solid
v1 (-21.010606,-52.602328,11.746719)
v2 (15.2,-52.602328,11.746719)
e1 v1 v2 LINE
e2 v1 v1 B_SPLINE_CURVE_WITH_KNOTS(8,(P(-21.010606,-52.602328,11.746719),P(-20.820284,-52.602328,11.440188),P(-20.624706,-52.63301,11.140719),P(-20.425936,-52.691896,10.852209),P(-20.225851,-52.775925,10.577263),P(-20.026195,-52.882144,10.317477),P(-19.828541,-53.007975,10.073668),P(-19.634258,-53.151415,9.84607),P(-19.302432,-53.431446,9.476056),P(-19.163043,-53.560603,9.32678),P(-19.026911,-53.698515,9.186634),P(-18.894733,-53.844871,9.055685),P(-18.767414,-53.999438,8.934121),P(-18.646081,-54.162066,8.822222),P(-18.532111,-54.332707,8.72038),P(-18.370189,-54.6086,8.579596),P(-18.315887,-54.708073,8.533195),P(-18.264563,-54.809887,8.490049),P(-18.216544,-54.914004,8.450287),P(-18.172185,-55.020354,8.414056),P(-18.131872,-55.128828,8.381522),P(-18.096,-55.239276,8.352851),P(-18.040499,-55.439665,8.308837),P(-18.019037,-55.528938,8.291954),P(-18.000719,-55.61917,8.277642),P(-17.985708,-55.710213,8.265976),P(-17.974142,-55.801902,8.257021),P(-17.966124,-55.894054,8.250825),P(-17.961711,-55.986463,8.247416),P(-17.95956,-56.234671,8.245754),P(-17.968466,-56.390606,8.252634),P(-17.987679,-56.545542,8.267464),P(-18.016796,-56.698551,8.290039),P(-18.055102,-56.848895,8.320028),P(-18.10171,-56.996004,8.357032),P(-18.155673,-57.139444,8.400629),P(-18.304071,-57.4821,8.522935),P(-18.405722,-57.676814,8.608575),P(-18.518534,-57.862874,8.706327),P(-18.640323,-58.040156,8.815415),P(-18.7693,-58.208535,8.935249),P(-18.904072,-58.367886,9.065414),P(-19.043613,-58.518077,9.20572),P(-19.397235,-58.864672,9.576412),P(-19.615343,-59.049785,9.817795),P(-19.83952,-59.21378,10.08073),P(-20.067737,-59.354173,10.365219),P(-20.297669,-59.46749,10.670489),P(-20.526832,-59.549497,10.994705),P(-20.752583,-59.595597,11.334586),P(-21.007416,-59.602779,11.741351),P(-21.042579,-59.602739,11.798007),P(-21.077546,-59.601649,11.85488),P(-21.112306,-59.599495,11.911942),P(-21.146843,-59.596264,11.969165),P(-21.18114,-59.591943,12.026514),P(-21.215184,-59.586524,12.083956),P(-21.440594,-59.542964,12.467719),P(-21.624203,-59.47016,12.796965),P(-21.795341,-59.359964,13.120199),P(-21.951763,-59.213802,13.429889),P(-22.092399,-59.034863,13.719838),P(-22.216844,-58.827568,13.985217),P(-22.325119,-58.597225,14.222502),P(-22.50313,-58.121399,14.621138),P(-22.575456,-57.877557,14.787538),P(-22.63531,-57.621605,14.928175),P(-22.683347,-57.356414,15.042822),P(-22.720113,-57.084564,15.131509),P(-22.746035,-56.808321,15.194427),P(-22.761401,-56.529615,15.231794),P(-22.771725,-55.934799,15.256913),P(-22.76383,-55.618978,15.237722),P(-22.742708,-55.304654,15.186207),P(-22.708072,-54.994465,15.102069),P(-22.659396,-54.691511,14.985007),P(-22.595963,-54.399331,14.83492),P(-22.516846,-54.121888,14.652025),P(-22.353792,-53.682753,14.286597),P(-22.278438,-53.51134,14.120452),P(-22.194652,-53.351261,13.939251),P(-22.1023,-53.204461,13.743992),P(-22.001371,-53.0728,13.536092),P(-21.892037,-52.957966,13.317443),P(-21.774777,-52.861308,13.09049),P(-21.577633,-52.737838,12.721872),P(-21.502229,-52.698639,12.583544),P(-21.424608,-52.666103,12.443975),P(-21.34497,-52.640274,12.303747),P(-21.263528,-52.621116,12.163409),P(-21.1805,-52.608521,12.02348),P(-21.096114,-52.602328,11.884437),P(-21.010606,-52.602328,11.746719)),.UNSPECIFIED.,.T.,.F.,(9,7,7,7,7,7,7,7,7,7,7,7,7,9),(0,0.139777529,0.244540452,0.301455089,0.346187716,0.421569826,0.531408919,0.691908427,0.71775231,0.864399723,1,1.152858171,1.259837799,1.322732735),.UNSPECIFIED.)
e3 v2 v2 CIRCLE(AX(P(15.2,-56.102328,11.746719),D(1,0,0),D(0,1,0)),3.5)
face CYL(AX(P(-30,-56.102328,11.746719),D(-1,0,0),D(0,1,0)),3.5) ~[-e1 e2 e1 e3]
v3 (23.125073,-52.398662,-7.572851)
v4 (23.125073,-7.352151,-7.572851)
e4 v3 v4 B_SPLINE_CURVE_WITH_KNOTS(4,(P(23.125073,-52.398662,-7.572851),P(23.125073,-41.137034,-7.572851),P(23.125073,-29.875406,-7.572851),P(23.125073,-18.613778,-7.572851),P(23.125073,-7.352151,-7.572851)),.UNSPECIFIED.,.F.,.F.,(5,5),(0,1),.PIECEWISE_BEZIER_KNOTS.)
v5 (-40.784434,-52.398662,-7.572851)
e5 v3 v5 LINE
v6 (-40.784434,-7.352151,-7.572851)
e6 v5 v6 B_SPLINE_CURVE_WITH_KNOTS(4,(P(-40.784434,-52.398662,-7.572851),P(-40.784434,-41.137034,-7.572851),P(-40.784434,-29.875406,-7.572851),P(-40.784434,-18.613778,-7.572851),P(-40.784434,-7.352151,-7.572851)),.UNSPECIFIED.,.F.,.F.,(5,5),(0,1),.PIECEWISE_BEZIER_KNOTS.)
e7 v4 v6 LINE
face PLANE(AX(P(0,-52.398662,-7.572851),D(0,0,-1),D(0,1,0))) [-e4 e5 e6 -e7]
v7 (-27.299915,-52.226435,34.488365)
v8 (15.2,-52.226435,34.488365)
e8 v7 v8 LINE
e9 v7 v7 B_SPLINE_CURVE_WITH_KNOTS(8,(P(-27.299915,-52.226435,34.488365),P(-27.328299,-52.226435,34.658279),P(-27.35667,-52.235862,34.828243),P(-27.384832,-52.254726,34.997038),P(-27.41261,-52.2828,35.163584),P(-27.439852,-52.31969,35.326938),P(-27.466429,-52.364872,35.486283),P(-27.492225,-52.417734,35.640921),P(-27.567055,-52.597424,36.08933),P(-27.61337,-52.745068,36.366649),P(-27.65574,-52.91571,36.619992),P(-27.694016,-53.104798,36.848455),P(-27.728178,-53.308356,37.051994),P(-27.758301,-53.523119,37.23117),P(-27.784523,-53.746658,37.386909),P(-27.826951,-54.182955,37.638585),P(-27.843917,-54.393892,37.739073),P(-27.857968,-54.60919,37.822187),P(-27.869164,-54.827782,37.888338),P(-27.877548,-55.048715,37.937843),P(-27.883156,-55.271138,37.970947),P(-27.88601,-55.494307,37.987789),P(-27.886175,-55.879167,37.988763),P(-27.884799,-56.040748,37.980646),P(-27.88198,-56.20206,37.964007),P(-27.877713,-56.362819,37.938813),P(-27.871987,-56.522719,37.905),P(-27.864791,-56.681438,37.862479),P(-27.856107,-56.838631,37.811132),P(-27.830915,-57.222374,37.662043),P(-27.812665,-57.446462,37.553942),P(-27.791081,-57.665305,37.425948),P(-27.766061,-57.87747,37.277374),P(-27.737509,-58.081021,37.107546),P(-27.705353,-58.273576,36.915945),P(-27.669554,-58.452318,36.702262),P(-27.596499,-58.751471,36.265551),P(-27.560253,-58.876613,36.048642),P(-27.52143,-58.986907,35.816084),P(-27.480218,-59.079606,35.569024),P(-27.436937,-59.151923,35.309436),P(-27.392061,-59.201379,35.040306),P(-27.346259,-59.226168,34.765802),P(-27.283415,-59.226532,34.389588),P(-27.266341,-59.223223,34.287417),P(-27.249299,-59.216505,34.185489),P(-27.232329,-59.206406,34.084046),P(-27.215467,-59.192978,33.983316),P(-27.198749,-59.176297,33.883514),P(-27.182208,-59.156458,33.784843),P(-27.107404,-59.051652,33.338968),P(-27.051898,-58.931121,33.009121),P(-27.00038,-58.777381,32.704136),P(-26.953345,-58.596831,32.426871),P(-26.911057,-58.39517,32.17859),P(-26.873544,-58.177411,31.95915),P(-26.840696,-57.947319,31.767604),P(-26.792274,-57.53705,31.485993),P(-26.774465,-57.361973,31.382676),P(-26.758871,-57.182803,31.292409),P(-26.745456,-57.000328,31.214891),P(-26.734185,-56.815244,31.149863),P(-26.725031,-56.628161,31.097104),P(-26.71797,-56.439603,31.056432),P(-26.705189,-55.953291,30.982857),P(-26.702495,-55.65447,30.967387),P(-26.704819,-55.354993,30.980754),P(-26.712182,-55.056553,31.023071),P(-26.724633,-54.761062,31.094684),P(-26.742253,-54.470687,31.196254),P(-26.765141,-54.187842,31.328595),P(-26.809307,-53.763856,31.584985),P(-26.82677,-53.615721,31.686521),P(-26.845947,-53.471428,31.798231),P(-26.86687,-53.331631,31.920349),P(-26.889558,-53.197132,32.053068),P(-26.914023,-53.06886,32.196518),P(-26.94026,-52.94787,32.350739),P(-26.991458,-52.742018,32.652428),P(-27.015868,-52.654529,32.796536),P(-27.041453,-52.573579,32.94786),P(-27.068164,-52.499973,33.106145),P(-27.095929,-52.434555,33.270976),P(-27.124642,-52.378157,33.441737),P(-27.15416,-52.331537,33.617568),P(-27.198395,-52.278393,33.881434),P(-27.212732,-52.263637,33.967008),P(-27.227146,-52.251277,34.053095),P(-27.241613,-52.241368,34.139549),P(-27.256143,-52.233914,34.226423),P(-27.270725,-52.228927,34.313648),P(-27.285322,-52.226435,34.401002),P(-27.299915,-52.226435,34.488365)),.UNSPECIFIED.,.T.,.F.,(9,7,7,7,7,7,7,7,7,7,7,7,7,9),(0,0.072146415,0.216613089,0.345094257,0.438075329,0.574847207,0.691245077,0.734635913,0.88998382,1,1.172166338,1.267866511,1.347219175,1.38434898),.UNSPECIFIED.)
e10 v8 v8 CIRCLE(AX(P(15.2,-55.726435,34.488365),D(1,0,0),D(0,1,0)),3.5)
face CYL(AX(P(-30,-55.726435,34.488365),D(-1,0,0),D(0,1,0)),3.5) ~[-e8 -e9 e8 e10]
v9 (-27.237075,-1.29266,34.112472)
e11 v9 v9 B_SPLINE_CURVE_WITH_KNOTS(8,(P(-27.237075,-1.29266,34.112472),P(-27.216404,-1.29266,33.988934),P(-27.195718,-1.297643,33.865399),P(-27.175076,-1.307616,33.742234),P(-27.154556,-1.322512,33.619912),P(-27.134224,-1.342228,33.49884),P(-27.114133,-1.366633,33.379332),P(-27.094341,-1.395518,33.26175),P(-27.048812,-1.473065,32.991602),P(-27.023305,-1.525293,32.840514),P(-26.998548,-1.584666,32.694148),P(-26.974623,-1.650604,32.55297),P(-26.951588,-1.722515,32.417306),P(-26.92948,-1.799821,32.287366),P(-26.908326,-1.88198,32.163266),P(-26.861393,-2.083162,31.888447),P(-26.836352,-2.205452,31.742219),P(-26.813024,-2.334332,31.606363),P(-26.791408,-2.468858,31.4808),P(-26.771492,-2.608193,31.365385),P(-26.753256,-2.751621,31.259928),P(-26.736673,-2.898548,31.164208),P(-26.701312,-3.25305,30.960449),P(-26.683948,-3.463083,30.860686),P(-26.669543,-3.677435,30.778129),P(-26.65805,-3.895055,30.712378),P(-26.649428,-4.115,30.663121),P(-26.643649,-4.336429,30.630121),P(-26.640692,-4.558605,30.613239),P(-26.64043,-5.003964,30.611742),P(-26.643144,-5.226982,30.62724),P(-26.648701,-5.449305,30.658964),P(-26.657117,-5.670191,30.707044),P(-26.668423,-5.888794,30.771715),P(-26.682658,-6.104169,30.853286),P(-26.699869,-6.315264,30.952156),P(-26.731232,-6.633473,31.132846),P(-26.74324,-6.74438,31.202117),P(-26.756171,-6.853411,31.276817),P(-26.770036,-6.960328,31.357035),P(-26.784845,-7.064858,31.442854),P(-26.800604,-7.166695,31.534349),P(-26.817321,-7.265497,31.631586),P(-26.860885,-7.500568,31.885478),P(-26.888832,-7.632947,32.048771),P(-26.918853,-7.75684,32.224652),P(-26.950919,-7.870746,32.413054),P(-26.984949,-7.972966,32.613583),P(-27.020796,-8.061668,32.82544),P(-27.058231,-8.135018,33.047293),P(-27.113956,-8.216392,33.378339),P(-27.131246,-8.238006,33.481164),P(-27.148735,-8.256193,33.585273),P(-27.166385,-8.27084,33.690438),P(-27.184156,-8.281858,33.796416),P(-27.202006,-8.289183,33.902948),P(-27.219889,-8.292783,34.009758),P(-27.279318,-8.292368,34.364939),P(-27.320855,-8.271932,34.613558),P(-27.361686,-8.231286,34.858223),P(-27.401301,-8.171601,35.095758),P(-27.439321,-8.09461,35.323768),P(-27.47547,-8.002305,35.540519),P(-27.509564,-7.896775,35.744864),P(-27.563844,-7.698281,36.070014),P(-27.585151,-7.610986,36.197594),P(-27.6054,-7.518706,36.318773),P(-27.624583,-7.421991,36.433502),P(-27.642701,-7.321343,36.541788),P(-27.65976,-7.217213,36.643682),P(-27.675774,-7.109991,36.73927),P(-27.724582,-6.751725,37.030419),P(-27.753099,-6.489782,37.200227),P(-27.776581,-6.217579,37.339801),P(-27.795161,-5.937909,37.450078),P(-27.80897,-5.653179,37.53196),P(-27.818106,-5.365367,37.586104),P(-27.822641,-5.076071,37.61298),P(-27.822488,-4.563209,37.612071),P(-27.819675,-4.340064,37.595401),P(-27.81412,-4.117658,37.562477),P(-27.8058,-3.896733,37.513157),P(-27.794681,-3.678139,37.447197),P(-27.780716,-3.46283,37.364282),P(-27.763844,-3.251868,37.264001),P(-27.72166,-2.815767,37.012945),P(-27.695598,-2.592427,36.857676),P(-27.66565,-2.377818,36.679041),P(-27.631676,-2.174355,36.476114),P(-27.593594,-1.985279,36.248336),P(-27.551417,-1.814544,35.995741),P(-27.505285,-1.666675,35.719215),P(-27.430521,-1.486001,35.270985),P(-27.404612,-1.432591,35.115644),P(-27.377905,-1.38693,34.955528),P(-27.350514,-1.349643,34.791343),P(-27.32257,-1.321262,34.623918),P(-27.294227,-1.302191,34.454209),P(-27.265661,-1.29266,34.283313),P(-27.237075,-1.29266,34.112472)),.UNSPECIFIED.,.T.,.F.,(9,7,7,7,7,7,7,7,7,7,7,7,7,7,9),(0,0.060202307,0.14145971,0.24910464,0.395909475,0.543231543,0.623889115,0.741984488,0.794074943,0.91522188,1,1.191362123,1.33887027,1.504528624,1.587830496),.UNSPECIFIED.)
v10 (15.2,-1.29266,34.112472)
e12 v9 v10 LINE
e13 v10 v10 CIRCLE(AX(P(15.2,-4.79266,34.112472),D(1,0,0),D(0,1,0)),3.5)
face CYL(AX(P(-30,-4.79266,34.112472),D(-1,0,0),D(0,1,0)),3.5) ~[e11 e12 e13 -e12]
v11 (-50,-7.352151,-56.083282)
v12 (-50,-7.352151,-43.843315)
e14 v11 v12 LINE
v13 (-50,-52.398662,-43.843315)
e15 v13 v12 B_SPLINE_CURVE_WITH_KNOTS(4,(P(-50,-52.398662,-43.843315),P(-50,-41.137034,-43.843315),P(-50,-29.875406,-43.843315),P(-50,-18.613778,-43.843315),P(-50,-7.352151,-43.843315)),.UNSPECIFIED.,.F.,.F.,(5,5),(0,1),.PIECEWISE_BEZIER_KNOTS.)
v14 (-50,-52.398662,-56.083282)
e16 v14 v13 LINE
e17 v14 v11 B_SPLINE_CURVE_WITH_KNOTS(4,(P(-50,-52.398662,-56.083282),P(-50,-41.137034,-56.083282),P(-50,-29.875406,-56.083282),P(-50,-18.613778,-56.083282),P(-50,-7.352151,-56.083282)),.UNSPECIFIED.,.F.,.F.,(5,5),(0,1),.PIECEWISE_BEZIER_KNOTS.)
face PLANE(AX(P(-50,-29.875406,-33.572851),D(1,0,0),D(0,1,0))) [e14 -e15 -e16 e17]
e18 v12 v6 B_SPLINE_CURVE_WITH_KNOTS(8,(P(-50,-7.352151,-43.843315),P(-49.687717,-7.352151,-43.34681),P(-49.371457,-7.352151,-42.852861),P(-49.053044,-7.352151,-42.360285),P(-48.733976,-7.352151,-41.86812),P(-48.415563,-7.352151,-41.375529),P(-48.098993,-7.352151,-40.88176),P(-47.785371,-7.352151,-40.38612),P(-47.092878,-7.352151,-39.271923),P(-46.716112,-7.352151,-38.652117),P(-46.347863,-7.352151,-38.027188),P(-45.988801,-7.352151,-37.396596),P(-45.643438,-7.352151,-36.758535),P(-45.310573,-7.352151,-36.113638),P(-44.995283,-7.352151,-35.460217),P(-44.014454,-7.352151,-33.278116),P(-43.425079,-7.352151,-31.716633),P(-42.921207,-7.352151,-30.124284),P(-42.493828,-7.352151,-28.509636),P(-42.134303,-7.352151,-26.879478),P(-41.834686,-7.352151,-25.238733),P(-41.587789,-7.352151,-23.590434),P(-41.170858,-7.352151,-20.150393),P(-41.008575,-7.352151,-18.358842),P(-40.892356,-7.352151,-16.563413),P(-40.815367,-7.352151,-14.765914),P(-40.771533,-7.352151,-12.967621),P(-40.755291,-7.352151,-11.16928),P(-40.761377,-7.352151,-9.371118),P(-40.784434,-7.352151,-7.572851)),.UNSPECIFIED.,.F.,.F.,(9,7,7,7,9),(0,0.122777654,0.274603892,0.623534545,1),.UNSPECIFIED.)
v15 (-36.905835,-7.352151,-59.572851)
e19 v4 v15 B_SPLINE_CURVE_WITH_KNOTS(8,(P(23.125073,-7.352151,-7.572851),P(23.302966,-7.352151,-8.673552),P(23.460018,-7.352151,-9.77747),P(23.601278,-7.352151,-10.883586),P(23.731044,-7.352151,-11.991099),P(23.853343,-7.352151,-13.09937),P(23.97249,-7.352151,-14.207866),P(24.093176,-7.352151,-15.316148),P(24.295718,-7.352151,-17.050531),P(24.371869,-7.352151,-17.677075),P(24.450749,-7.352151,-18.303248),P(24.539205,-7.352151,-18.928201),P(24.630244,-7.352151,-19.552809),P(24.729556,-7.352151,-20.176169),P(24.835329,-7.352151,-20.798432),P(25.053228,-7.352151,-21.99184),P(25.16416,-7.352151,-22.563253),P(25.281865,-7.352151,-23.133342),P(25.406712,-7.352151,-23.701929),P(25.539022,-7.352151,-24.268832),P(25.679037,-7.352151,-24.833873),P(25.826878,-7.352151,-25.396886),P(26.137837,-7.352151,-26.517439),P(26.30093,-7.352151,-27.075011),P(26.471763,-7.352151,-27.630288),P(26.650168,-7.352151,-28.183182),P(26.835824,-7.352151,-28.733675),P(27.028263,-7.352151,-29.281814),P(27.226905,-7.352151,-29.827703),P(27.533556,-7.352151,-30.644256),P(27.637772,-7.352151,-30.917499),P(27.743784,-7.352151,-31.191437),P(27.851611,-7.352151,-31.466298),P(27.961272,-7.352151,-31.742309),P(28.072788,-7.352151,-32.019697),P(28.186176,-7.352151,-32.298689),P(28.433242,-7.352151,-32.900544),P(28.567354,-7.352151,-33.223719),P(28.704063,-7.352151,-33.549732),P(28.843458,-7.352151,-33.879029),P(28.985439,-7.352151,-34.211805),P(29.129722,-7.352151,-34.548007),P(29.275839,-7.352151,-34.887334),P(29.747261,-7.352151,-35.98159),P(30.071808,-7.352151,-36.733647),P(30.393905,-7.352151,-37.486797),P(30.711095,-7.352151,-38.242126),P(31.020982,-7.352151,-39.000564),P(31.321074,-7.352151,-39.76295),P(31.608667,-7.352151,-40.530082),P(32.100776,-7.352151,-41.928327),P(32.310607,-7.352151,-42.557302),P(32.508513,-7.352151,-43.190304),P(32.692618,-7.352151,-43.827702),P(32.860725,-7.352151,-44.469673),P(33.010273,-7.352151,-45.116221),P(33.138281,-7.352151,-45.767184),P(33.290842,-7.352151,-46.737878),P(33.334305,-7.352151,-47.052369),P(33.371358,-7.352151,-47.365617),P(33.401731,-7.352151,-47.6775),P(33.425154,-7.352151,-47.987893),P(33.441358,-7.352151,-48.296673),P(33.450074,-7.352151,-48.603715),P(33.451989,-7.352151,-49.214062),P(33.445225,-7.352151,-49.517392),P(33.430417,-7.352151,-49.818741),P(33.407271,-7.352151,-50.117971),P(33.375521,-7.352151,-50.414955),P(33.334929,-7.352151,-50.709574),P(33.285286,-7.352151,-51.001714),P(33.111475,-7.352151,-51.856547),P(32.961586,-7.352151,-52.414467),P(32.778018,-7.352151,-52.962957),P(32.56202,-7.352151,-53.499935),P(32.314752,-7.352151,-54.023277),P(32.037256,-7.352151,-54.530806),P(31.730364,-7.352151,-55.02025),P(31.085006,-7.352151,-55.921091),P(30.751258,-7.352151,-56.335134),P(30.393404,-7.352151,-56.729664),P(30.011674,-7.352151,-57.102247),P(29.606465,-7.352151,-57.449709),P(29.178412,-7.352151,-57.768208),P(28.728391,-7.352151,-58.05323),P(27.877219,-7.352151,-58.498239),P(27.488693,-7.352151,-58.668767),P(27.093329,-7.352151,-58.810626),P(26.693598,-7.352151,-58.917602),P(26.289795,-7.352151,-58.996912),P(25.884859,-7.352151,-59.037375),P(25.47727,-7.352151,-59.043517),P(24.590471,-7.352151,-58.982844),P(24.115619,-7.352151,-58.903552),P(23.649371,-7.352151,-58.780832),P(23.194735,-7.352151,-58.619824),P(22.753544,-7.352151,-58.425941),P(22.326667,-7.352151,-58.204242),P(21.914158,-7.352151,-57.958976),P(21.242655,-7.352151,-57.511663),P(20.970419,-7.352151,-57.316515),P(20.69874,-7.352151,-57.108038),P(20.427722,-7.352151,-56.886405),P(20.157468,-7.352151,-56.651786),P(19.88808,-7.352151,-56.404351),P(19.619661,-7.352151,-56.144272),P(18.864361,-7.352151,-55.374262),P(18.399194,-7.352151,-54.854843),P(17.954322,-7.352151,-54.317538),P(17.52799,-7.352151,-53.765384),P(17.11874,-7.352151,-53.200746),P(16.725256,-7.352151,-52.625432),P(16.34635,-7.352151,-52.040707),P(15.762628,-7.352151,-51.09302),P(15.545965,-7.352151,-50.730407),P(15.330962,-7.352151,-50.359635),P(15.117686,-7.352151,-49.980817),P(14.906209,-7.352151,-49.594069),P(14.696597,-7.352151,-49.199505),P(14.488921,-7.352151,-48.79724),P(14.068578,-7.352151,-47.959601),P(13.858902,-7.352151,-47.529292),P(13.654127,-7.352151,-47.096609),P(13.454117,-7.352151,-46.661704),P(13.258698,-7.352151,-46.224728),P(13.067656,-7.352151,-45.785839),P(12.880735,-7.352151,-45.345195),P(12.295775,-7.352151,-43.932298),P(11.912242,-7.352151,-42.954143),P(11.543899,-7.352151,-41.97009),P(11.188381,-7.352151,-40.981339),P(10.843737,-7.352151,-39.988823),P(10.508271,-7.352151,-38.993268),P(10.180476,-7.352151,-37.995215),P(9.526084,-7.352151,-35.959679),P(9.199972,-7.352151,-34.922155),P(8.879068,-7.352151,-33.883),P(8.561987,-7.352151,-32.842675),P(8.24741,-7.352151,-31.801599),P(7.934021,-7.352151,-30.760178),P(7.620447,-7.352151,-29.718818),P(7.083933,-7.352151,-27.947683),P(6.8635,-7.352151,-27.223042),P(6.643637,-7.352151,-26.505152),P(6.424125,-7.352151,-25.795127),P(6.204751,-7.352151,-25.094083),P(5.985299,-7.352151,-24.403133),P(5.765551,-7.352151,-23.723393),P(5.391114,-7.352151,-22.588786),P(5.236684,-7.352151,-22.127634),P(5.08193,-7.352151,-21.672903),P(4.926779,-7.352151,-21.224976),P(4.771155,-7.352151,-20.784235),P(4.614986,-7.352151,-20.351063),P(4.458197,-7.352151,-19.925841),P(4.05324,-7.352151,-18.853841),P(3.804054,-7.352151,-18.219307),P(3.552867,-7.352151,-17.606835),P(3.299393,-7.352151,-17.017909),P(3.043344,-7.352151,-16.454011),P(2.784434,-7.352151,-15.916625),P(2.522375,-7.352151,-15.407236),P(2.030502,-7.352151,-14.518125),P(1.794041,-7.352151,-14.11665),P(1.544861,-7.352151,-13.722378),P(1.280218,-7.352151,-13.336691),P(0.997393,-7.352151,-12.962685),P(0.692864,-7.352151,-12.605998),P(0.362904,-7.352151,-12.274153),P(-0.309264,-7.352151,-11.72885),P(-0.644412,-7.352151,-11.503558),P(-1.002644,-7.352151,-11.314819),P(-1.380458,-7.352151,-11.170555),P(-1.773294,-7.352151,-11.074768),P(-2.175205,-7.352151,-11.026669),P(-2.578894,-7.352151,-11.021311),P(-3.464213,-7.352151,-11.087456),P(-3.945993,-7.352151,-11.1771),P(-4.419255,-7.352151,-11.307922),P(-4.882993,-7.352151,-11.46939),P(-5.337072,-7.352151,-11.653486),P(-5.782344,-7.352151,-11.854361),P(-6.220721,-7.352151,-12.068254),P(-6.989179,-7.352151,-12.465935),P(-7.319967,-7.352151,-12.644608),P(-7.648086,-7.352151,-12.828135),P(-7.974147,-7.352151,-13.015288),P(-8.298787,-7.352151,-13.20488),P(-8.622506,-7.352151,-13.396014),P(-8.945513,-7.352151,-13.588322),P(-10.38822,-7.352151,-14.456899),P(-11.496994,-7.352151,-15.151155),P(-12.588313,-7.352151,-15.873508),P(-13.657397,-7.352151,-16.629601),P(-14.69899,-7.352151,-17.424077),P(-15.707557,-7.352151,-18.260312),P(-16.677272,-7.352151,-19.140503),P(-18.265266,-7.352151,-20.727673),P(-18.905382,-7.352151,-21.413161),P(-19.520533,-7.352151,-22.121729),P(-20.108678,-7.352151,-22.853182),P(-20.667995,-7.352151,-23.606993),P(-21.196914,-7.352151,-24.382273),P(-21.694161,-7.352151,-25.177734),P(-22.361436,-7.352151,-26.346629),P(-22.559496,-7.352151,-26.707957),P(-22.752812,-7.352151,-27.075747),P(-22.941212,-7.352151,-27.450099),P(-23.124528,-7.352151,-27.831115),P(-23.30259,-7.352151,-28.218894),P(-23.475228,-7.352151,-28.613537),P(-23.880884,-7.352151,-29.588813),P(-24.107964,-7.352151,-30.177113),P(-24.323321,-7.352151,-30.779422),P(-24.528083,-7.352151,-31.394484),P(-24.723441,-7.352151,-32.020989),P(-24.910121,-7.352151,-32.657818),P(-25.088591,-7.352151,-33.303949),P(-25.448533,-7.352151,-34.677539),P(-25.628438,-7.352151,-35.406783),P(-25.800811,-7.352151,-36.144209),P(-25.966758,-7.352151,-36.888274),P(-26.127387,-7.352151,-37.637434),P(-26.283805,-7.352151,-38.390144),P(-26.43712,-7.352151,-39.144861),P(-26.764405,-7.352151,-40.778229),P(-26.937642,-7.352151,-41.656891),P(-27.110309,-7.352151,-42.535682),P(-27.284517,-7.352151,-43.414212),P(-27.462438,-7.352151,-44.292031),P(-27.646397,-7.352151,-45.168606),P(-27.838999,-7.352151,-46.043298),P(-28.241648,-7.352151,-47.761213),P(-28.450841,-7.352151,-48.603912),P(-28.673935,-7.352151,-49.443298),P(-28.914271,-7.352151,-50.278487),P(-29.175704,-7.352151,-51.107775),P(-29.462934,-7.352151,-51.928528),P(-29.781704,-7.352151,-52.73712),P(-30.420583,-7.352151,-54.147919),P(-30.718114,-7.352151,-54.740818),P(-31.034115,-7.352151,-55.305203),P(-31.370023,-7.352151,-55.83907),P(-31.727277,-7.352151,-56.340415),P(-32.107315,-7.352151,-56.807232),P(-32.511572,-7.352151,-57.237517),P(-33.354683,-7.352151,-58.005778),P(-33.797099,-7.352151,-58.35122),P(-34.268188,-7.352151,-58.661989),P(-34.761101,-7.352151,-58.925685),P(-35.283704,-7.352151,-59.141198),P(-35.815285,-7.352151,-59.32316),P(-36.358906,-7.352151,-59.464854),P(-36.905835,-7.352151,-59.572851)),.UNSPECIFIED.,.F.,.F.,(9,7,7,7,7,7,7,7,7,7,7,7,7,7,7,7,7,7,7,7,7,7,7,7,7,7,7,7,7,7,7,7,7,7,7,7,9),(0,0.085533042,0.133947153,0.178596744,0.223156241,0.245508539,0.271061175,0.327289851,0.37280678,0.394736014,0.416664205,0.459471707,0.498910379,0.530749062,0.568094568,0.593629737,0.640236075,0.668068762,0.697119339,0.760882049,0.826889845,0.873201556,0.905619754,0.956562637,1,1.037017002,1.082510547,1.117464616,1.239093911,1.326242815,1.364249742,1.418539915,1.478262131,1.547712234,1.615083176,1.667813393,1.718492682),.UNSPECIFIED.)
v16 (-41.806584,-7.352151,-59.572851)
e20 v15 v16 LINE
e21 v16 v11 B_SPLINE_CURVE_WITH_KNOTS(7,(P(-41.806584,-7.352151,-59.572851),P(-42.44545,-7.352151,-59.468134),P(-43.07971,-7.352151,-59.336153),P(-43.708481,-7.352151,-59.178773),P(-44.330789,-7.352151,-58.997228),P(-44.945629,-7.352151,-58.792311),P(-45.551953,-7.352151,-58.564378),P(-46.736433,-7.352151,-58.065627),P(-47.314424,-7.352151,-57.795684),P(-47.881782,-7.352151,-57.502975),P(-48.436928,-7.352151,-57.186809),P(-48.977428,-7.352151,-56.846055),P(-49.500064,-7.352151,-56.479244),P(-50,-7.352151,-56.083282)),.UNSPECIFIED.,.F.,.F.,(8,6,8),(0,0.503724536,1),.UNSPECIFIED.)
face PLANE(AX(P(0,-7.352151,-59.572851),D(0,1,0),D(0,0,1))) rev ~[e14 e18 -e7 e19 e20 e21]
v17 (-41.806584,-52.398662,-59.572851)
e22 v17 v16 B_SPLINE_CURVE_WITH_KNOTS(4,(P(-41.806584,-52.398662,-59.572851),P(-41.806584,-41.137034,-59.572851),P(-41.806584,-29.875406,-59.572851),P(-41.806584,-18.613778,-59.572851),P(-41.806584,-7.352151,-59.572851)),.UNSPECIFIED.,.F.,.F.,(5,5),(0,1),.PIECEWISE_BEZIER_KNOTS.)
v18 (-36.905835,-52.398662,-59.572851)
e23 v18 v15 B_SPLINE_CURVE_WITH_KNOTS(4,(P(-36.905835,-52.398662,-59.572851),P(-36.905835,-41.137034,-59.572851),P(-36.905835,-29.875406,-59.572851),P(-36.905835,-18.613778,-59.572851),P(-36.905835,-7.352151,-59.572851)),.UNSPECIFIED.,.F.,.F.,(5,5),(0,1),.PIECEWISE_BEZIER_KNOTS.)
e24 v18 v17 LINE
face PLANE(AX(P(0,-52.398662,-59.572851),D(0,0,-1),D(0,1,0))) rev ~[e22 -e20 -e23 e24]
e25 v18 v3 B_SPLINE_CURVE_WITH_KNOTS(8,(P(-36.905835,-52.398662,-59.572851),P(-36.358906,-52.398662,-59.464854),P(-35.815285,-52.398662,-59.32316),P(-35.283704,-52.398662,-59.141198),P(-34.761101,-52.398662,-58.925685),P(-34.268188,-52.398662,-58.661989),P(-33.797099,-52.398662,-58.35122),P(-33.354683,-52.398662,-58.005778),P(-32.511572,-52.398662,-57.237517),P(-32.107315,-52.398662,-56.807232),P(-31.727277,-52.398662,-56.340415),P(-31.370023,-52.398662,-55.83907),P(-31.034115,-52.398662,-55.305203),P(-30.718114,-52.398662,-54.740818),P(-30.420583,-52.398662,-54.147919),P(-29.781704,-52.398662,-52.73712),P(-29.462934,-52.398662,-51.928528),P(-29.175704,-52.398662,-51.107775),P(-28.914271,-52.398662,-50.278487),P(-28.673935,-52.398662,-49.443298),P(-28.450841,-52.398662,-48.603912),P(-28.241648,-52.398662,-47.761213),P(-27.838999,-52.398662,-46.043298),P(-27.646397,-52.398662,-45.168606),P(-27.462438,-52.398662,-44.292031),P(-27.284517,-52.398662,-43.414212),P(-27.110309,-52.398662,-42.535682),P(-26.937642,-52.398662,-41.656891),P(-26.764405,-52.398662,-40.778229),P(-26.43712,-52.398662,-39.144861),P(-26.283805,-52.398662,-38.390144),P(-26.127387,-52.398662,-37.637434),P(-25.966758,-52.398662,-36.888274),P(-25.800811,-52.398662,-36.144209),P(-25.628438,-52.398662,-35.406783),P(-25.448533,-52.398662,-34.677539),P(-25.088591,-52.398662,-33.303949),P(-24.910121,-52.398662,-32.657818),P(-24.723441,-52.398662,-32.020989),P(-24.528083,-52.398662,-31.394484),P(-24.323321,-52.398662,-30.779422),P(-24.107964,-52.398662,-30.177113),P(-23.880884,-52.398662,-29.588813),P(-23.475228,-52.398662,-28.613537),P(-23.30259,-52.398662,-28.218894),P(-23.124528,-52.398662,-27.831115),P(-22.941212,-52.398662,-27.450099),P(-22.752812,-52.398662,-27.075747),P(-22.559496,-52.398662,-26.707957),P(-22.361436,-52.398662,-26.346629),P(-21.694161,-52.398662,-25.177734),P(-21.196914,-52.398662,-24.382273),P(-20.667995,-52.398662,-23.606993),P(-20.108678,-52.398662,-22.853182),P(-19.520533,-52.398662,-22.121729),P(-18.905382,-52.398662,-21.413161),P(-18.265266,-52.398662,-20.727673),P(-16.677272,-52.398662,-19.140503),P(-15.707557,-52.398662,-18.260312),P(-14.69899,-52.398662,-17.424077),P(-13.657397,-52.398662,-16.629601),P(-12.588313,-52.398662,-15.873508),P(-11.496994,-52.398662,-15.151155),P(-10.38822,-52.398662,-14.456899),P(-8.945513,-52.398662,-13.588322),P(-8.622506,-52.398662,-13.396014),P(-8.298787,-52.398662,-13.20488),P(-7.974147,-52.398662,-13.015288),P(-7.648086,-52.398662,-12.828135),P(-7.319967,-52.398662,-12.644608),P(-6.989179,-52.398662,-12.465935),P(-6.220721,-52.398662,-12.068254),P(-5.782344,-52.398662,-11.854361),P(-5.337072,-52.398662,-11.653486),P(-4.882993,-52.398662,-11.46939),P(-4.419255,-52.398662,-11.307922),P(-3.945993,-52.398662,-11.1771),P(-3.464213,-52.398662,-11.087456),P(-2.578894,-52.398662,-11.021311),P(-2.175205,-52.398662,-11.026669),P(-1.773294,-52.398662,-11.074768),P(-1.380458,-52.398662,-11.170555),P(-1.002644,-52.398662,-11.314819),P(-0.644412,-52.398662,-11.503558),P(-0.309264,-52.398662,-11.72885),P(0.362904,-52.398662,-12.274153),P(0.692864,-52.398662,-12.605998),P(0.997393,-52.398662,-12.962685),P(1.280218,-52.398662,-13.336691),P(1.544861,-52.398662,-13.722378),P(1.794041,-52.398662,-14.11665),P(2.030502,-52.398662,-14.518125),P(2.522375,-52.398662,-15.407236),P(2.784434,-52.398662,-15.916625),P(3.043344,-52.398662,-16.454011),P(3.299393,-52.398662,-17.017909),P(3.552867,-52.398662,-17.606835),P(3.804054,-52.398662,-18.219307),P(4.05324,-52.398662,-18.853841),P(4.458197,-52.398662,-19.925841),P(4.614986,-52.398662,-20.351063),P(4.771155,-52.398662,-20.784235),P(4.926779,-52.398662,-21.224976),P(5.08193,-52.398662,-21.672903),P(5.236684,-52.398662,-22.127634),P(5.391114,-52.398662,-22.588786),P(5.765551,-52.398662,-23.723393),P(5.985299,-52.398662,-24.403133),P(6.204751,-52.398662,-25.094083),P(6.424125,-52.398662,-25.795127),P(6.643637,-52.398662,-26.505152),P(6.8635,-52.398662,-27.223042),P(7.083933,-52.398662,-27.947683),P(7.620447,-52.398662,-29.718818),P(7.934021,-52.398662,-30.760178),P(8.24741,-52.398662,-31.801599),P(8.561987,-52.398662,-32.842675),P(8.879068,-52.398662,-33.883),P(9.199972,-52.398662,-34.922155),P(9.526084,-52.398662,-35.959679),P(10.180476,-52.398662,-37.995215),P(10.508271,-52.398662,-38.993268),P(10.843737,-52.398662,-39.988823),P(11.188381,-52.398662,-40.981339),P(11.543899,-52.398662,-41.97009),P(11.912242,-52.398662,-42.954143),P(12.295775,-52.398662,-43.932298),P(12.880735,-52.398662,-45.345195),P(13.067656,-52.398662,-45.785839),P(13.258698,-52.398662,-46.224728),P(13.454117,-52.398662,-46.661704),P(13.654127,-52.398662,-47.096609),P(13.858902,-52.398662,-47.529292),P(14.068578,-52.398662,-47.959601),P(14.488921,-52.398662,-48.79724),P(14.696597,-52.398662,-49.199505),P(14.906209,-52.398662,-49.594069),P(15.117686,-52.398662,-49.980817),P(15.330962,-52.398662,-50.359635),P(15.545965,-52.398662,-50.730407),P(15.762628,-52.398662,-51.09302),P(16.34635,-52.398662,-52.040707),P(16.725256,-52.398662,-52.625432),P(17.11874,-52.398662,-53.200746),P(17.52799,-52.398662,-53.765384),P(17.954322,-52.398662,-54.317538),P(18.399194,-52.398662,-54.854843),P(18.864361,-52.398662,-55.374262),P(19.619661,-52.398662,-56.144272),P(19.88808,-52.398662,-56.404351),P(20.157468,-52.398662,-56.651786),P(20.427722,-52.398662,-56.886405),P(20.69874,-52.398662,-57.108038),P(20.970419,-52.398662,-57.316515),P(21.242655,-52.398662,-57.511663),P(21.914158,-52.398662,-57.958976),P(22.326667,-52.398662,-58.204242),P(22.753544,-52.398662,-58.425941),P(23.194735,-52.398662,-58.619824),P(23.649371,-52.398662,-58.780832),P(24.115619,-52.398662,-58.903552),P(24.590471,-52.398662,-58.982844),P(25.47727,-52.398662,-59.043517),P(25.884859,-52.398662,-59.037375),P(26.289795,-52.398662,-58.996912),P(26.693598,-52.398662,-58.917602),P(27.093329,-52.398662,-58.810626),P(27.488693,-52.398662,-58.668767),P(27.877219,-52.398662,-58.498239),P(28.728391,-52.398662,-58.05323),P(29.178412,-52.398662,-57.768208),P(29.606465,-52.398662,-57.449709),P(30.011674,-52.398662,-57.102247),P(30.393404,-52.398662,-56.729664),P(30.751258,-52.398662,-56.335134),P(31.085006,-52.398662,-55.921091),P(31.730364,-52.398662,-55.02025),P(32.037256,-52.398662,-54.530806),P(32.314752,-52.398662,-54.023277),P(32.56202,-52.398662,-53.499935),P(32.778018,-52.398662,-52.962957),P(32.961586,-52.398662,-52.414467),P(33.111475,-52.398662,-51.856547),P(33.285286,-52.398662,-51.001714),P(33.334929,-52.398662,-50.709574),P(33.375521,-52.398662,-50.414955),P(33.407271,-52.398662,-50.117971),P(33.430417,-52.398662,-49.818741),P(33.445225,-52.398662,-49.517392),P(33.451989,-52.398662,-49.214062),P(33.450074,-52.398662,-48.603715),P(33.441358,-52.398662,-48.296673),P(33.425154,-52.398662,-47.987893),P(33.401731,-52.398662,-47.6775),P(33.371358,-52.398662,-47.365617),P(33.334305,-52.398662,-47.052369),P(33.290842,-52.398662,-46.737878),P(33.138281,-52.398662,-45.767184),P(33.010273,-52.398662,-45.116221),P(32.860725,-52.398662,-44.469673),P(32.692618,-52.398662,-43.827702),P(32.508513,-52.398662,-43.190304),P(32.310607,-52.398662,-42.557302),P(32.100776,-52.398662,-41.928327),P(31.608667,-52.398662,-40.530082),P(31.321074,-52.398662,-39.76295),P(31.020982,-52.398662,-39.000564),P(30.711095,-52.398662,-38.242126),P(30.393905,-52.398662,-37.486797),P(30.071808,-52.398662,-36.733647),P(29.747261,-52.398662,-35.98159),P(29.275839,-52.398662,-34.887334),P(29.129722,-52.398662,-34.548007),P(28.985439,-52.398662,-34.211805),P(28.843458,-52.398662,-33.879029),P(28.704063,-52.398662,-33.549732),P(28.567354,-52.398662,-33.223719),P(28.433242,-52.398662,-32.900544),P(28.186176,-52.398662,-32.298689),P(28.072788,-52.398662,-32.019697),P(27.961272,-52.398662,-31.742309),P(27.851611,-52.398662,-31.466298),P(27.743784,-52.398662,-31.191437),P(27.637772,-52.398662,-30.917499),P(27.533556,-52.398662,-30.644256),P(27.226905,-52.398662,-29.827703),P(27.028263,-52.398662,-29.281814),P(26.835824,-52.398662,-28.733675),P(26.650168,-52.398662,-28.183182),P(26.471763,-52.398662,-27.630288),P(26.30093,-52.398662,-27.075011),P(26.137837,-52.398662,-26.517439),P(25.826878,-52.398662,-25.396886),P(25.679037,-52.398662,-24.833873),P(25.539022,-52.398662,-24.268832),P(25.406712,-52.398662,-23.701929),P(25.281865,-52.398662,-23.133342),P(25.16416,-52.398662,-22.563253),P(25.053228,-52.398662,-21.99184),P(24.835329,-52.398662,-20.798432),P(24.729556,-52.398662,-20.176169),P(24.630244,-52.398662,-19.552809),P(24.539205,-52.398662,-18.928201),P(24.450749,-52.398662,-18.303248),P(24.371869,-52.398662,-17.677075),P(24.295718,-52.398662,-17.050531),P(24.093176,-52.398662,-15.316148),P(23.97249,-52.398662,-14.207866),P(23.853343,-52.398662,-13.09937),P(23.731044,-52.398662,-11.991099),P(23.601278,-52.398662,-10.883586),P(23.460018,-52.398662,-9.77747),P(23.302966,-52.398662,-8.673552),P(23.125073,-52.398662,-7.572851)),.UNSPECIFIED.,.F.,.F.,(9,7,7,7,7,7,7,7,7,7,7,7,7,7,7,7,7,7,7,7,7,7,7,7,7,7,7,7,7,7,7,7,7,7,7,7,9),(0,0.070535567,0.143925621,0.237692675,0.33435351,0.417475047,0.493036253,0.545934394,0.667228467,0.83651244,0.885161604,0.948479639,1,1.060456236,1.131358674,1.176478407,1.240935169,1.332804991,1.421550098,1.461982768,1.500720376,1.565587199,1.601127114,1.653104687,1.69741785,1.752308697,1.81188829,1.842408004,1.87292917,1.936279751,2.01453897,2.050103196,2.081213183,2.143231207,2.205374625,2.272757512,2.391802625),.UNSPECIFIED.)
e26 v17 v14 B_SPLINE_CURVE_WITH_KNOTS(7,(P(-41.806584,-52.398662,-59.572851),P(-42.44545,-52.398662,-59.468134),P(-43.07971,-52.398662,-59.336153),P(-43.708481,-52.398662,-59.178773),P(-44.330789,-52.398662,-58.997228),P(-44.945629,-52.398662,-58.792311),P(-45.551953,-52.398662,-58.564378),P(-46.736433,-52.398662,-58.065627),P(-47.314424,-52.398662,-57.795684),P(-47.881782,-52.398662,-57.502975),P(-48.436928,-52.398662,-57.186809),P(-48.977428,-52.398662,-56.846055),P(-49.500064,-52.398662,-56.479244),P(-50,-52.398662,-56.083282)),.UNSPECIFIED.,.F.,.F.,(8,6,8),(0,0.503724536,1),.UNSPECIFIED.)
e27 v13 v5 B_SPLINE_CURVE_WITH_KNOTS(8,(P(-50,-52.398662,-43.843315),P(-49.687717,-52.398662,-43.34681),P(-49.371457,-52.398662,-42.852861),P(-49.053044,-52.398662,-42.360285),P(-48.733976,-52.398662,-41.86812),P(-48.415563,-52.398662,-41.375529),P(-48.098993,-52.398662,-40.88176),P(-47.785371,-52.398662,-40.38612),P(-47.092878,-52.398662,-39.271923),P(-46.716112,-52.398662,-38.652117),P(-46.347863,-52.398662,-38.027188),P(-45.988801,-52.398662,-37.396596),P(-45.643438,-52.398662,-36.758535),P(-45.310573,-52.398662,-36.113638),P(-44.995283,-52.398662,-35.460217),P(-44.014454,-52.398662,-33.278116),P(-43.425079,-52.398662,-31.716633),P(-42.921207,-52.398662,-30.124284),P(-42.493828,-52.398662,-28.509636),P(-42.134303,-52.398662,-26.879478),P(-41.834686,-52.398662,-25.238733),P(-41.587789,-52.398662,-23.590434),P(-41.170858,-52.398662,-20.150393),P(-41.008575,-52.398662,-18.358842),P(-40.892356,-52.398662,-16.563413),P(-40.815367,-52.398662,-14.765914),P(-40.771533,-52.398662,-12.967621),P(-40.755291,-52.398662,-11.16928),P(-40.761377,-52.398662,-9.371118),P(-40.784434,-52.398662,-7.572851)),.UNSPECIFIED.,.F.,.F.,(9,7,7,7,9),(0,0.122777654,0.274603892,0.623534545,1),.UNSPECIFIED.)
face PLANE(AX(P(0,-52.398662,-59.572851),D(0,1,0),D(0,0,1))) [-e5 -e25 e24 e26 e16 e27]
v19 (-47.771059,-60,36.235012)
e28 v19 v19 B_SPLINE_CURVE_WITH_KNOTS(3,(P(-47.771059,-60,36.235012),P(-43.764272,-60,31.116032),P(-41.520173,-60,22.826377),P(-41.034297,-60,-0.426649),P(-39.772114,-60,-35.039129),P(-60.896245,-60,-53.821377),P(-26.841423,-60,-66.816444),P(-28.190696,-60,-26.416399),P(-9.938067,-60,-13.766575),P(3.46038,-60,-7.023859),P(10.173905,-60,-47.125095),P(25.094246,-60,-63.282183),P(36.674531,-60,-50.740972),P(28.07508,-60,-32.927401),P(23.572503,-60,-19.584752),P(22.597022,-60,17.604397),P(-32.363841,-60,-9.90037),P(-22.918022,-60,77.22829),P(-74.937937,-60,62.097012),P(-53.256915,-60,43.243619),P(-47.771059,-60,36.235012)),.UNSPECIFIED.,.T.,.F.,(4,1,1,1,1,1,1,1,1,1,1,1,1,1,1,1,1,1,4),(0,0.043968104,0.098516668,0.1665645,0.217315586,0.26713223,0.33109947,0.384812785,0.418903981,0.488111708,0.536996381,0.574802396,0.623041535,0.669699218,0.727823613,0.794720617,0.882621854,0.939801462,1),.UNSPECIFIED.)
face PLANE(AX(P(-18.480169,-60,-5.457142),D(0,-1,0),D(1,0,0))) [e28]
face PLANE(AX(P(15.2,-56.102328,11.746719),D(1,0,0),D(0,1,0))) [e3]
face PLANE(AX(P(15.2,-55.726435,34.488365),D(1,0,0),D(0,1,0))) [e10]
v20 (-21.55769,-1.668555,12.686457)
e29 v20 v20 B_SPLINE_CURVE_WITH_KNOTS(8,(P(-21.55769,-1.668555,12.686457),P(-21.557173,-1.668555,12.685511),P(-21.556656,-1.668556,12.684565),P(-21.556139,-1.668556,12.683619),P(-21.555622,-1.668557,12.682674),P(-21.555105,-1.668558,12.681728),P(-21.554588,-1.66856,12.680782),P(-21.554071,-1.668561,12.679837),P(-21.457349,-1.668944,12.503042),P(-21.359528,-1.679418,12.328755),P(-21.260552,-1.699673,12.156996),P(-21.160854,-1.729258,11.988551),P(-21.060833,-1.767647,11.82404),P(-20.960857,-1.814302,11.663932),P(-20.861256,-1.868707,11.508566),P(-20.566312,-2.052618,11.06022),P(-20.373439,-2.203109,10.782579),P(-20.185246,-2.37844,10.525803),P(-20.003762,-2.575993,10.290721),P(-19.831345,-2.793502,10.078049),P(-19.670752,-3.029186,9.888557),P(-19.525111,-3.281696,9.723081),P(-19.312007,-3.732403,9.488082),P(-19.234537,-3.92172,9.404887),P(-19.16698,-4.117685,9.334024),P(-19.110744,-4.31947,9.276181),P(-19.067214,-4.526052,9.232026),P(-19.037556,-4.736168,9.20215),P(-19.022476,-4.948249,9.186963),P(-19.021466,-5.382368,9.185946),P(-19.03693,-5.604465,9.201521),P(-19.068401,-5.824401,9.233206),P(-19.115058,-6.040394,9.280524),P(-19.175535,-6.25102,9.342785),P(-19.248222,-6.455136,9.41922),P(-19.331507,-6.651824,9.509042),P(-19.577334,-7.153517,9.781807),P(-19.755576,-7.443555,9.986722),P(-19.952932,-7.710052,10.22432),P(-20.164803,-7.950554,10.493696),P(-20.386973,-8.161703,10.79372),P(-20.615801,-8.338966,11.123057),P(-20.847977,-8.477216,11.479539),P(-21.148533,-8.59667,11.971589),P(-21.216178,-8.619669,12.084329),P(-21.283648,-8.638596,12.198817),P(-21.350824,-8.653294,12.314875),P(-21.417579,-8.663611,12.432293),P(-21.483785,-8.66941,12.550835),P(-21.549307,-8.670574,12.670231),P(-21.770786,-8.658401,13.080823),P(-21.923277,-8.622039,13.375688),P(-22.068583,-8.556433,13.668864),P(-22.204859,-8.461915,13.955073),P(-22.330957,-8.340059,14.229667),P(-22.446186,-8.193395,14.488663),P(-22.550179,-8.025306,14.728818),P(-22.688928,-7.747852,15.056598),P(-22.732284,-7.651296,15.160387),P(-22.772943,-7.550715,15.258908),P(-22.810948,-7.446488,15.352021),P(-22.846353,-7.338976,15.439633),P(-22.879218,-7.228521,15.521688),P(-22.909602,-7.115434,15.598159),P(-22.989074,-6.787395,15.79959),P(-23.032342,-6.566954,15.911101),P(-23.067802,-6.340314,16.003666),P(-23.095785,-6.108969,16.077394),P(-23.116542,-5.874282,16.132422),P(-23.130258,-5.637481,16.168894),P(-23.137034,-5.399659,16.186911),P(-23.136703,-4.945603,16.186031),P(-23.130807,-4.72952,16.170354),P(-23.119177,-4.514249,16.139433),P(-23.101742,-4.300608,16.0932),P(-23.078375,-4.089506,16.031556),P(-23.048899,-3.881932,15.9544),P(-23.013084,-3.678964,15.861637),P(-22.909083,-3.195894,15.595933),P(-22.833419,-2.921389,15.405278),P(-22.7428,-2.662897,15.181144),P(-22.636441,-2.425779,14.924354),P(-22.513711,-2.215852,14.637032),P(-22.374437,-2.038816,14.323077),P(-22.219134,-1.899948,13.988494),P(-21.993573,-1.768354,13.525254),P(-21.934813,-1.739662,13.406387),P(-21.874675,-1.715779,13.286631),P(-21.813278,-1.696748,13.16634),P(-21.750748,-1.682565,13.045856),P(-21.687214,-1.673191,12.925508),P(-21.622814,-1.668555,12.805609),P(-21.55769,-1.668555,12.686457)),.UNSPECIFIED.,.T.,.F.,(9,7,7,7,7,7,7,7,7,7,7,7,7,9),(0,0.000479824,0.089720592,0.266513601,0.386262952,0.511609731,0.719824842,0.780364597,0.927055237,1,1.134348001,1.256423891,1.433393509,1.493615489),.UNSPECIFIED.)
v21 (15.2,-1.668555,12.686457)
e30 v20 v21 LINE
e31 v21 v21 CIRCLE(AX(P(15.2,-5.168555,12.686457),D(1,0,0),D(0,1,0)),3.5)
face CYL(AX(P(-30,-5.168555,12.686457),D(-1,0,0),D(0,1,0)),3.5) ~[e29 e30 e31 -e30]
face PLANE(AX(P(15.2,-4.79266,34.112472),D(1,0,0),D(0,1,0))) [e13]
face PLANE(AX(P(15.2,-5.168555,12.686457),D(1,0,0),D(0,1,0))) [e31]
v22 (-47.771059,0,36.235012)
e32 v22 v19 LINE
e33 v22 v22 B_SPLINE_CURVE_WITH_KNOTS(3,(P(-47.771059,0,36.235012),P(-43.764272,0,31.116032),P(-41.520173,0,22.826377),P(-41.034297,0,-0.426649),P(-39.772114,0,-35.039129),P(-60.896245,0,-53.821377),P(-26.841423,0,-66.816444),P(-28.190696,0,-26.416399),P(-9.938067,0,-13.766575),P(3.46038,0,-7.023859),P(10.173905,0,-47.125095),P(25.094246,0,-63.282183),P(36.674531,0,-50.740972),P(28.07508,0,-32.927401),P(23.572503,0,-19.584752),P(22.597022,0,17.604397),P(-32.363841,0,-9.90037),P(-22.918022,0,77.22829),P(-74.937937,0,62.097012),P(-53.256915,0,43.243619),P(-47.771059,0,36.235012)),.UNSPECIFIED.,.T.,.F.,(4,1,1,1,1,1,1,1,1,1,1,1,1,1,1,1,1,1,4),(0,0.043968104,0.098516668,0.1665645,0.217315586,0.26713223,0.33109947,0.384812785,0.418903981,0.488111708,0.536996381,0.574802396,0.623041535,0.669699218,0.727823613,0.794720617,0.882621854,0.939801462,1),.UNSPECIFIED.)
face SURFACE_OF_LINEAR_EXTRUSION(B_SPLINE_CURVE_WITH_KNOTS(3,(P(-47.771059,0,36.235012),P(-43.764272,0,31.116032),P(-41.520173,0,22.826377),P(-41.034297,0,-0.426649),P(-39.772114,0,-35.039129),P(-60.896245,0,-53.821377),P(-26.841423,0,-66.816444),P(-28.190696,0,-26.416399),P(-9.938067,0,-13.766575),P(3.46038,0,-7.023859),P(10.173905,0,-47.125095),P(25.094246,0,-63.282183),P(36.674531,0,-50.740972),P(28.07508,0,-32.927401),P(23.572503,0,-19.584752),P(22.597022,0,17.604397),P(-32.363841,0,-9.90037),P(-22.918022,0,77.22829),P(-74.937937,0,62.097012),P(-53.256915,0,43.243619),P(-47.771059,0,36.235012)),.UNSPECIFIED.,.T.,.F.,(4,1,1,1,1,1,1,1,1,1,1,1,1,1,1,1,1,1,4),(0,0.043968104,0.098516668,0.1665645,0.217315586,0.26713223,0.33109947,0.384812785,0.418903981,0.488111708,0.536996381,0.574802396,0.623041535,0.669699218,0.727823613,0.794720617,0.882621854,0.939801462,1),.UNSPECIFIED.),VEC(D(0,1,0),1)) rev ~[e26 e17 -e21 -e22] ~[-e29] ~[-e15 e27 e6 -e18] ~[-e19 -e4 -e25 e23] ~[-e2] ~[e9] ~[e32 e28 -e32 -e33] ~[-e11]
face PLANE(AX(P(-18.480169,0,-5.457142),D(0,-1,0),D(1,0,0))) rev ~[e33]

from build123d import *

# Parameters (mm, degrees)
F1_DEPTH      = 60
F2_W          = 45.0465110302
F2_H          = 52
F3_DEPTH      = 33.4520994369
F3_DEPTH_BACK = 50
F5_R          = 3.5
F6_DEPTH      = 45.2


with BuildPart() as f1:
    # F0 (on Front) → F1 (new body)
    with BuildSketch(Plane.XZ):
        with BuildLine():
            add(Edge.make_bspline(
                [(-47.7710589767, 36.235012114), (-43.7642724148, 31.1160315947), (-41.5201732604, 22.8263772636), (-41.0342967143, -0.4266494674), (-39.7721135289, -35.0391294545), (-60.8962447913, -53.8213770815), (-26.8414225677, -66.8164442076), (-28.1906958044, -26.4163986537), (-9.9380668558, -13.766575293), (3.4603799669, -7.0238591561), (10.1739045947, -47.125094742), (25.0942461106, -63.2821832605), (36.674530662, -50.7409715675), (28.0750803172, -32.9274014269), (23.5725027286, -19.58475153), (22.5970221879, 17.6043970945), (-32.36384065, -9.9003703935), (-22.9180220022, 77.2282902642), (-74.9379369652, 62.0970116083), (-53.2569151379, 43.2436187338), (-47.7710589767, 36.235012114)],
                knots=[0, 0, 0, 0, 0.0439681036, 0.0985166676, 0.1665645002, 0.2173155858, 0.2671322301, 0.3310994695, 0.3848127846, 0.418903981, 0.4881117083, 0.5369963808, 0.5748023959, 0.6230415351, 0.6696992183, 0.7278236125, 0.7947206169, 0.8826218544, 0.9398014623, 1, 1, 1, 1], degree=3))
        make_face()
    extrude(amount=F1_DEPTH)

    # F2 (on Right) → F3 (cut, two sides)
    with BuildSketch(Plane.YZ) as f3_sk:
        with Locations((-29.8754060641, -33.5728507489)):
            Rectangle(F2_W, F2_H)
    extrude(amount=F3_DEPTH, mode=Mode.SUBTRACT)
    extrude(f3_sk.sketch, amount=-F3_DEPTH_BACK, mode=Mode.SUBTRACT)

    # F5 (on offset) → F6 (join)
    with BuildSketch(Plane.YZ.offset(-30)):
        with Locations((-55.7264350355, 34.4883650541)):
            Circle(F5_R)
        with Locations((-56.1023280025, 11.7467185482)):
            Circle(F5_R)
        with Locations((-4.7926604748, 34.1124720871)):
            Circle(F5_R)
        with Locations((-5.1685553044, 12.6864565536)):
            Circle(F5_R)
    extrude(amount=F6_DEPTH)


solid = f1.part
